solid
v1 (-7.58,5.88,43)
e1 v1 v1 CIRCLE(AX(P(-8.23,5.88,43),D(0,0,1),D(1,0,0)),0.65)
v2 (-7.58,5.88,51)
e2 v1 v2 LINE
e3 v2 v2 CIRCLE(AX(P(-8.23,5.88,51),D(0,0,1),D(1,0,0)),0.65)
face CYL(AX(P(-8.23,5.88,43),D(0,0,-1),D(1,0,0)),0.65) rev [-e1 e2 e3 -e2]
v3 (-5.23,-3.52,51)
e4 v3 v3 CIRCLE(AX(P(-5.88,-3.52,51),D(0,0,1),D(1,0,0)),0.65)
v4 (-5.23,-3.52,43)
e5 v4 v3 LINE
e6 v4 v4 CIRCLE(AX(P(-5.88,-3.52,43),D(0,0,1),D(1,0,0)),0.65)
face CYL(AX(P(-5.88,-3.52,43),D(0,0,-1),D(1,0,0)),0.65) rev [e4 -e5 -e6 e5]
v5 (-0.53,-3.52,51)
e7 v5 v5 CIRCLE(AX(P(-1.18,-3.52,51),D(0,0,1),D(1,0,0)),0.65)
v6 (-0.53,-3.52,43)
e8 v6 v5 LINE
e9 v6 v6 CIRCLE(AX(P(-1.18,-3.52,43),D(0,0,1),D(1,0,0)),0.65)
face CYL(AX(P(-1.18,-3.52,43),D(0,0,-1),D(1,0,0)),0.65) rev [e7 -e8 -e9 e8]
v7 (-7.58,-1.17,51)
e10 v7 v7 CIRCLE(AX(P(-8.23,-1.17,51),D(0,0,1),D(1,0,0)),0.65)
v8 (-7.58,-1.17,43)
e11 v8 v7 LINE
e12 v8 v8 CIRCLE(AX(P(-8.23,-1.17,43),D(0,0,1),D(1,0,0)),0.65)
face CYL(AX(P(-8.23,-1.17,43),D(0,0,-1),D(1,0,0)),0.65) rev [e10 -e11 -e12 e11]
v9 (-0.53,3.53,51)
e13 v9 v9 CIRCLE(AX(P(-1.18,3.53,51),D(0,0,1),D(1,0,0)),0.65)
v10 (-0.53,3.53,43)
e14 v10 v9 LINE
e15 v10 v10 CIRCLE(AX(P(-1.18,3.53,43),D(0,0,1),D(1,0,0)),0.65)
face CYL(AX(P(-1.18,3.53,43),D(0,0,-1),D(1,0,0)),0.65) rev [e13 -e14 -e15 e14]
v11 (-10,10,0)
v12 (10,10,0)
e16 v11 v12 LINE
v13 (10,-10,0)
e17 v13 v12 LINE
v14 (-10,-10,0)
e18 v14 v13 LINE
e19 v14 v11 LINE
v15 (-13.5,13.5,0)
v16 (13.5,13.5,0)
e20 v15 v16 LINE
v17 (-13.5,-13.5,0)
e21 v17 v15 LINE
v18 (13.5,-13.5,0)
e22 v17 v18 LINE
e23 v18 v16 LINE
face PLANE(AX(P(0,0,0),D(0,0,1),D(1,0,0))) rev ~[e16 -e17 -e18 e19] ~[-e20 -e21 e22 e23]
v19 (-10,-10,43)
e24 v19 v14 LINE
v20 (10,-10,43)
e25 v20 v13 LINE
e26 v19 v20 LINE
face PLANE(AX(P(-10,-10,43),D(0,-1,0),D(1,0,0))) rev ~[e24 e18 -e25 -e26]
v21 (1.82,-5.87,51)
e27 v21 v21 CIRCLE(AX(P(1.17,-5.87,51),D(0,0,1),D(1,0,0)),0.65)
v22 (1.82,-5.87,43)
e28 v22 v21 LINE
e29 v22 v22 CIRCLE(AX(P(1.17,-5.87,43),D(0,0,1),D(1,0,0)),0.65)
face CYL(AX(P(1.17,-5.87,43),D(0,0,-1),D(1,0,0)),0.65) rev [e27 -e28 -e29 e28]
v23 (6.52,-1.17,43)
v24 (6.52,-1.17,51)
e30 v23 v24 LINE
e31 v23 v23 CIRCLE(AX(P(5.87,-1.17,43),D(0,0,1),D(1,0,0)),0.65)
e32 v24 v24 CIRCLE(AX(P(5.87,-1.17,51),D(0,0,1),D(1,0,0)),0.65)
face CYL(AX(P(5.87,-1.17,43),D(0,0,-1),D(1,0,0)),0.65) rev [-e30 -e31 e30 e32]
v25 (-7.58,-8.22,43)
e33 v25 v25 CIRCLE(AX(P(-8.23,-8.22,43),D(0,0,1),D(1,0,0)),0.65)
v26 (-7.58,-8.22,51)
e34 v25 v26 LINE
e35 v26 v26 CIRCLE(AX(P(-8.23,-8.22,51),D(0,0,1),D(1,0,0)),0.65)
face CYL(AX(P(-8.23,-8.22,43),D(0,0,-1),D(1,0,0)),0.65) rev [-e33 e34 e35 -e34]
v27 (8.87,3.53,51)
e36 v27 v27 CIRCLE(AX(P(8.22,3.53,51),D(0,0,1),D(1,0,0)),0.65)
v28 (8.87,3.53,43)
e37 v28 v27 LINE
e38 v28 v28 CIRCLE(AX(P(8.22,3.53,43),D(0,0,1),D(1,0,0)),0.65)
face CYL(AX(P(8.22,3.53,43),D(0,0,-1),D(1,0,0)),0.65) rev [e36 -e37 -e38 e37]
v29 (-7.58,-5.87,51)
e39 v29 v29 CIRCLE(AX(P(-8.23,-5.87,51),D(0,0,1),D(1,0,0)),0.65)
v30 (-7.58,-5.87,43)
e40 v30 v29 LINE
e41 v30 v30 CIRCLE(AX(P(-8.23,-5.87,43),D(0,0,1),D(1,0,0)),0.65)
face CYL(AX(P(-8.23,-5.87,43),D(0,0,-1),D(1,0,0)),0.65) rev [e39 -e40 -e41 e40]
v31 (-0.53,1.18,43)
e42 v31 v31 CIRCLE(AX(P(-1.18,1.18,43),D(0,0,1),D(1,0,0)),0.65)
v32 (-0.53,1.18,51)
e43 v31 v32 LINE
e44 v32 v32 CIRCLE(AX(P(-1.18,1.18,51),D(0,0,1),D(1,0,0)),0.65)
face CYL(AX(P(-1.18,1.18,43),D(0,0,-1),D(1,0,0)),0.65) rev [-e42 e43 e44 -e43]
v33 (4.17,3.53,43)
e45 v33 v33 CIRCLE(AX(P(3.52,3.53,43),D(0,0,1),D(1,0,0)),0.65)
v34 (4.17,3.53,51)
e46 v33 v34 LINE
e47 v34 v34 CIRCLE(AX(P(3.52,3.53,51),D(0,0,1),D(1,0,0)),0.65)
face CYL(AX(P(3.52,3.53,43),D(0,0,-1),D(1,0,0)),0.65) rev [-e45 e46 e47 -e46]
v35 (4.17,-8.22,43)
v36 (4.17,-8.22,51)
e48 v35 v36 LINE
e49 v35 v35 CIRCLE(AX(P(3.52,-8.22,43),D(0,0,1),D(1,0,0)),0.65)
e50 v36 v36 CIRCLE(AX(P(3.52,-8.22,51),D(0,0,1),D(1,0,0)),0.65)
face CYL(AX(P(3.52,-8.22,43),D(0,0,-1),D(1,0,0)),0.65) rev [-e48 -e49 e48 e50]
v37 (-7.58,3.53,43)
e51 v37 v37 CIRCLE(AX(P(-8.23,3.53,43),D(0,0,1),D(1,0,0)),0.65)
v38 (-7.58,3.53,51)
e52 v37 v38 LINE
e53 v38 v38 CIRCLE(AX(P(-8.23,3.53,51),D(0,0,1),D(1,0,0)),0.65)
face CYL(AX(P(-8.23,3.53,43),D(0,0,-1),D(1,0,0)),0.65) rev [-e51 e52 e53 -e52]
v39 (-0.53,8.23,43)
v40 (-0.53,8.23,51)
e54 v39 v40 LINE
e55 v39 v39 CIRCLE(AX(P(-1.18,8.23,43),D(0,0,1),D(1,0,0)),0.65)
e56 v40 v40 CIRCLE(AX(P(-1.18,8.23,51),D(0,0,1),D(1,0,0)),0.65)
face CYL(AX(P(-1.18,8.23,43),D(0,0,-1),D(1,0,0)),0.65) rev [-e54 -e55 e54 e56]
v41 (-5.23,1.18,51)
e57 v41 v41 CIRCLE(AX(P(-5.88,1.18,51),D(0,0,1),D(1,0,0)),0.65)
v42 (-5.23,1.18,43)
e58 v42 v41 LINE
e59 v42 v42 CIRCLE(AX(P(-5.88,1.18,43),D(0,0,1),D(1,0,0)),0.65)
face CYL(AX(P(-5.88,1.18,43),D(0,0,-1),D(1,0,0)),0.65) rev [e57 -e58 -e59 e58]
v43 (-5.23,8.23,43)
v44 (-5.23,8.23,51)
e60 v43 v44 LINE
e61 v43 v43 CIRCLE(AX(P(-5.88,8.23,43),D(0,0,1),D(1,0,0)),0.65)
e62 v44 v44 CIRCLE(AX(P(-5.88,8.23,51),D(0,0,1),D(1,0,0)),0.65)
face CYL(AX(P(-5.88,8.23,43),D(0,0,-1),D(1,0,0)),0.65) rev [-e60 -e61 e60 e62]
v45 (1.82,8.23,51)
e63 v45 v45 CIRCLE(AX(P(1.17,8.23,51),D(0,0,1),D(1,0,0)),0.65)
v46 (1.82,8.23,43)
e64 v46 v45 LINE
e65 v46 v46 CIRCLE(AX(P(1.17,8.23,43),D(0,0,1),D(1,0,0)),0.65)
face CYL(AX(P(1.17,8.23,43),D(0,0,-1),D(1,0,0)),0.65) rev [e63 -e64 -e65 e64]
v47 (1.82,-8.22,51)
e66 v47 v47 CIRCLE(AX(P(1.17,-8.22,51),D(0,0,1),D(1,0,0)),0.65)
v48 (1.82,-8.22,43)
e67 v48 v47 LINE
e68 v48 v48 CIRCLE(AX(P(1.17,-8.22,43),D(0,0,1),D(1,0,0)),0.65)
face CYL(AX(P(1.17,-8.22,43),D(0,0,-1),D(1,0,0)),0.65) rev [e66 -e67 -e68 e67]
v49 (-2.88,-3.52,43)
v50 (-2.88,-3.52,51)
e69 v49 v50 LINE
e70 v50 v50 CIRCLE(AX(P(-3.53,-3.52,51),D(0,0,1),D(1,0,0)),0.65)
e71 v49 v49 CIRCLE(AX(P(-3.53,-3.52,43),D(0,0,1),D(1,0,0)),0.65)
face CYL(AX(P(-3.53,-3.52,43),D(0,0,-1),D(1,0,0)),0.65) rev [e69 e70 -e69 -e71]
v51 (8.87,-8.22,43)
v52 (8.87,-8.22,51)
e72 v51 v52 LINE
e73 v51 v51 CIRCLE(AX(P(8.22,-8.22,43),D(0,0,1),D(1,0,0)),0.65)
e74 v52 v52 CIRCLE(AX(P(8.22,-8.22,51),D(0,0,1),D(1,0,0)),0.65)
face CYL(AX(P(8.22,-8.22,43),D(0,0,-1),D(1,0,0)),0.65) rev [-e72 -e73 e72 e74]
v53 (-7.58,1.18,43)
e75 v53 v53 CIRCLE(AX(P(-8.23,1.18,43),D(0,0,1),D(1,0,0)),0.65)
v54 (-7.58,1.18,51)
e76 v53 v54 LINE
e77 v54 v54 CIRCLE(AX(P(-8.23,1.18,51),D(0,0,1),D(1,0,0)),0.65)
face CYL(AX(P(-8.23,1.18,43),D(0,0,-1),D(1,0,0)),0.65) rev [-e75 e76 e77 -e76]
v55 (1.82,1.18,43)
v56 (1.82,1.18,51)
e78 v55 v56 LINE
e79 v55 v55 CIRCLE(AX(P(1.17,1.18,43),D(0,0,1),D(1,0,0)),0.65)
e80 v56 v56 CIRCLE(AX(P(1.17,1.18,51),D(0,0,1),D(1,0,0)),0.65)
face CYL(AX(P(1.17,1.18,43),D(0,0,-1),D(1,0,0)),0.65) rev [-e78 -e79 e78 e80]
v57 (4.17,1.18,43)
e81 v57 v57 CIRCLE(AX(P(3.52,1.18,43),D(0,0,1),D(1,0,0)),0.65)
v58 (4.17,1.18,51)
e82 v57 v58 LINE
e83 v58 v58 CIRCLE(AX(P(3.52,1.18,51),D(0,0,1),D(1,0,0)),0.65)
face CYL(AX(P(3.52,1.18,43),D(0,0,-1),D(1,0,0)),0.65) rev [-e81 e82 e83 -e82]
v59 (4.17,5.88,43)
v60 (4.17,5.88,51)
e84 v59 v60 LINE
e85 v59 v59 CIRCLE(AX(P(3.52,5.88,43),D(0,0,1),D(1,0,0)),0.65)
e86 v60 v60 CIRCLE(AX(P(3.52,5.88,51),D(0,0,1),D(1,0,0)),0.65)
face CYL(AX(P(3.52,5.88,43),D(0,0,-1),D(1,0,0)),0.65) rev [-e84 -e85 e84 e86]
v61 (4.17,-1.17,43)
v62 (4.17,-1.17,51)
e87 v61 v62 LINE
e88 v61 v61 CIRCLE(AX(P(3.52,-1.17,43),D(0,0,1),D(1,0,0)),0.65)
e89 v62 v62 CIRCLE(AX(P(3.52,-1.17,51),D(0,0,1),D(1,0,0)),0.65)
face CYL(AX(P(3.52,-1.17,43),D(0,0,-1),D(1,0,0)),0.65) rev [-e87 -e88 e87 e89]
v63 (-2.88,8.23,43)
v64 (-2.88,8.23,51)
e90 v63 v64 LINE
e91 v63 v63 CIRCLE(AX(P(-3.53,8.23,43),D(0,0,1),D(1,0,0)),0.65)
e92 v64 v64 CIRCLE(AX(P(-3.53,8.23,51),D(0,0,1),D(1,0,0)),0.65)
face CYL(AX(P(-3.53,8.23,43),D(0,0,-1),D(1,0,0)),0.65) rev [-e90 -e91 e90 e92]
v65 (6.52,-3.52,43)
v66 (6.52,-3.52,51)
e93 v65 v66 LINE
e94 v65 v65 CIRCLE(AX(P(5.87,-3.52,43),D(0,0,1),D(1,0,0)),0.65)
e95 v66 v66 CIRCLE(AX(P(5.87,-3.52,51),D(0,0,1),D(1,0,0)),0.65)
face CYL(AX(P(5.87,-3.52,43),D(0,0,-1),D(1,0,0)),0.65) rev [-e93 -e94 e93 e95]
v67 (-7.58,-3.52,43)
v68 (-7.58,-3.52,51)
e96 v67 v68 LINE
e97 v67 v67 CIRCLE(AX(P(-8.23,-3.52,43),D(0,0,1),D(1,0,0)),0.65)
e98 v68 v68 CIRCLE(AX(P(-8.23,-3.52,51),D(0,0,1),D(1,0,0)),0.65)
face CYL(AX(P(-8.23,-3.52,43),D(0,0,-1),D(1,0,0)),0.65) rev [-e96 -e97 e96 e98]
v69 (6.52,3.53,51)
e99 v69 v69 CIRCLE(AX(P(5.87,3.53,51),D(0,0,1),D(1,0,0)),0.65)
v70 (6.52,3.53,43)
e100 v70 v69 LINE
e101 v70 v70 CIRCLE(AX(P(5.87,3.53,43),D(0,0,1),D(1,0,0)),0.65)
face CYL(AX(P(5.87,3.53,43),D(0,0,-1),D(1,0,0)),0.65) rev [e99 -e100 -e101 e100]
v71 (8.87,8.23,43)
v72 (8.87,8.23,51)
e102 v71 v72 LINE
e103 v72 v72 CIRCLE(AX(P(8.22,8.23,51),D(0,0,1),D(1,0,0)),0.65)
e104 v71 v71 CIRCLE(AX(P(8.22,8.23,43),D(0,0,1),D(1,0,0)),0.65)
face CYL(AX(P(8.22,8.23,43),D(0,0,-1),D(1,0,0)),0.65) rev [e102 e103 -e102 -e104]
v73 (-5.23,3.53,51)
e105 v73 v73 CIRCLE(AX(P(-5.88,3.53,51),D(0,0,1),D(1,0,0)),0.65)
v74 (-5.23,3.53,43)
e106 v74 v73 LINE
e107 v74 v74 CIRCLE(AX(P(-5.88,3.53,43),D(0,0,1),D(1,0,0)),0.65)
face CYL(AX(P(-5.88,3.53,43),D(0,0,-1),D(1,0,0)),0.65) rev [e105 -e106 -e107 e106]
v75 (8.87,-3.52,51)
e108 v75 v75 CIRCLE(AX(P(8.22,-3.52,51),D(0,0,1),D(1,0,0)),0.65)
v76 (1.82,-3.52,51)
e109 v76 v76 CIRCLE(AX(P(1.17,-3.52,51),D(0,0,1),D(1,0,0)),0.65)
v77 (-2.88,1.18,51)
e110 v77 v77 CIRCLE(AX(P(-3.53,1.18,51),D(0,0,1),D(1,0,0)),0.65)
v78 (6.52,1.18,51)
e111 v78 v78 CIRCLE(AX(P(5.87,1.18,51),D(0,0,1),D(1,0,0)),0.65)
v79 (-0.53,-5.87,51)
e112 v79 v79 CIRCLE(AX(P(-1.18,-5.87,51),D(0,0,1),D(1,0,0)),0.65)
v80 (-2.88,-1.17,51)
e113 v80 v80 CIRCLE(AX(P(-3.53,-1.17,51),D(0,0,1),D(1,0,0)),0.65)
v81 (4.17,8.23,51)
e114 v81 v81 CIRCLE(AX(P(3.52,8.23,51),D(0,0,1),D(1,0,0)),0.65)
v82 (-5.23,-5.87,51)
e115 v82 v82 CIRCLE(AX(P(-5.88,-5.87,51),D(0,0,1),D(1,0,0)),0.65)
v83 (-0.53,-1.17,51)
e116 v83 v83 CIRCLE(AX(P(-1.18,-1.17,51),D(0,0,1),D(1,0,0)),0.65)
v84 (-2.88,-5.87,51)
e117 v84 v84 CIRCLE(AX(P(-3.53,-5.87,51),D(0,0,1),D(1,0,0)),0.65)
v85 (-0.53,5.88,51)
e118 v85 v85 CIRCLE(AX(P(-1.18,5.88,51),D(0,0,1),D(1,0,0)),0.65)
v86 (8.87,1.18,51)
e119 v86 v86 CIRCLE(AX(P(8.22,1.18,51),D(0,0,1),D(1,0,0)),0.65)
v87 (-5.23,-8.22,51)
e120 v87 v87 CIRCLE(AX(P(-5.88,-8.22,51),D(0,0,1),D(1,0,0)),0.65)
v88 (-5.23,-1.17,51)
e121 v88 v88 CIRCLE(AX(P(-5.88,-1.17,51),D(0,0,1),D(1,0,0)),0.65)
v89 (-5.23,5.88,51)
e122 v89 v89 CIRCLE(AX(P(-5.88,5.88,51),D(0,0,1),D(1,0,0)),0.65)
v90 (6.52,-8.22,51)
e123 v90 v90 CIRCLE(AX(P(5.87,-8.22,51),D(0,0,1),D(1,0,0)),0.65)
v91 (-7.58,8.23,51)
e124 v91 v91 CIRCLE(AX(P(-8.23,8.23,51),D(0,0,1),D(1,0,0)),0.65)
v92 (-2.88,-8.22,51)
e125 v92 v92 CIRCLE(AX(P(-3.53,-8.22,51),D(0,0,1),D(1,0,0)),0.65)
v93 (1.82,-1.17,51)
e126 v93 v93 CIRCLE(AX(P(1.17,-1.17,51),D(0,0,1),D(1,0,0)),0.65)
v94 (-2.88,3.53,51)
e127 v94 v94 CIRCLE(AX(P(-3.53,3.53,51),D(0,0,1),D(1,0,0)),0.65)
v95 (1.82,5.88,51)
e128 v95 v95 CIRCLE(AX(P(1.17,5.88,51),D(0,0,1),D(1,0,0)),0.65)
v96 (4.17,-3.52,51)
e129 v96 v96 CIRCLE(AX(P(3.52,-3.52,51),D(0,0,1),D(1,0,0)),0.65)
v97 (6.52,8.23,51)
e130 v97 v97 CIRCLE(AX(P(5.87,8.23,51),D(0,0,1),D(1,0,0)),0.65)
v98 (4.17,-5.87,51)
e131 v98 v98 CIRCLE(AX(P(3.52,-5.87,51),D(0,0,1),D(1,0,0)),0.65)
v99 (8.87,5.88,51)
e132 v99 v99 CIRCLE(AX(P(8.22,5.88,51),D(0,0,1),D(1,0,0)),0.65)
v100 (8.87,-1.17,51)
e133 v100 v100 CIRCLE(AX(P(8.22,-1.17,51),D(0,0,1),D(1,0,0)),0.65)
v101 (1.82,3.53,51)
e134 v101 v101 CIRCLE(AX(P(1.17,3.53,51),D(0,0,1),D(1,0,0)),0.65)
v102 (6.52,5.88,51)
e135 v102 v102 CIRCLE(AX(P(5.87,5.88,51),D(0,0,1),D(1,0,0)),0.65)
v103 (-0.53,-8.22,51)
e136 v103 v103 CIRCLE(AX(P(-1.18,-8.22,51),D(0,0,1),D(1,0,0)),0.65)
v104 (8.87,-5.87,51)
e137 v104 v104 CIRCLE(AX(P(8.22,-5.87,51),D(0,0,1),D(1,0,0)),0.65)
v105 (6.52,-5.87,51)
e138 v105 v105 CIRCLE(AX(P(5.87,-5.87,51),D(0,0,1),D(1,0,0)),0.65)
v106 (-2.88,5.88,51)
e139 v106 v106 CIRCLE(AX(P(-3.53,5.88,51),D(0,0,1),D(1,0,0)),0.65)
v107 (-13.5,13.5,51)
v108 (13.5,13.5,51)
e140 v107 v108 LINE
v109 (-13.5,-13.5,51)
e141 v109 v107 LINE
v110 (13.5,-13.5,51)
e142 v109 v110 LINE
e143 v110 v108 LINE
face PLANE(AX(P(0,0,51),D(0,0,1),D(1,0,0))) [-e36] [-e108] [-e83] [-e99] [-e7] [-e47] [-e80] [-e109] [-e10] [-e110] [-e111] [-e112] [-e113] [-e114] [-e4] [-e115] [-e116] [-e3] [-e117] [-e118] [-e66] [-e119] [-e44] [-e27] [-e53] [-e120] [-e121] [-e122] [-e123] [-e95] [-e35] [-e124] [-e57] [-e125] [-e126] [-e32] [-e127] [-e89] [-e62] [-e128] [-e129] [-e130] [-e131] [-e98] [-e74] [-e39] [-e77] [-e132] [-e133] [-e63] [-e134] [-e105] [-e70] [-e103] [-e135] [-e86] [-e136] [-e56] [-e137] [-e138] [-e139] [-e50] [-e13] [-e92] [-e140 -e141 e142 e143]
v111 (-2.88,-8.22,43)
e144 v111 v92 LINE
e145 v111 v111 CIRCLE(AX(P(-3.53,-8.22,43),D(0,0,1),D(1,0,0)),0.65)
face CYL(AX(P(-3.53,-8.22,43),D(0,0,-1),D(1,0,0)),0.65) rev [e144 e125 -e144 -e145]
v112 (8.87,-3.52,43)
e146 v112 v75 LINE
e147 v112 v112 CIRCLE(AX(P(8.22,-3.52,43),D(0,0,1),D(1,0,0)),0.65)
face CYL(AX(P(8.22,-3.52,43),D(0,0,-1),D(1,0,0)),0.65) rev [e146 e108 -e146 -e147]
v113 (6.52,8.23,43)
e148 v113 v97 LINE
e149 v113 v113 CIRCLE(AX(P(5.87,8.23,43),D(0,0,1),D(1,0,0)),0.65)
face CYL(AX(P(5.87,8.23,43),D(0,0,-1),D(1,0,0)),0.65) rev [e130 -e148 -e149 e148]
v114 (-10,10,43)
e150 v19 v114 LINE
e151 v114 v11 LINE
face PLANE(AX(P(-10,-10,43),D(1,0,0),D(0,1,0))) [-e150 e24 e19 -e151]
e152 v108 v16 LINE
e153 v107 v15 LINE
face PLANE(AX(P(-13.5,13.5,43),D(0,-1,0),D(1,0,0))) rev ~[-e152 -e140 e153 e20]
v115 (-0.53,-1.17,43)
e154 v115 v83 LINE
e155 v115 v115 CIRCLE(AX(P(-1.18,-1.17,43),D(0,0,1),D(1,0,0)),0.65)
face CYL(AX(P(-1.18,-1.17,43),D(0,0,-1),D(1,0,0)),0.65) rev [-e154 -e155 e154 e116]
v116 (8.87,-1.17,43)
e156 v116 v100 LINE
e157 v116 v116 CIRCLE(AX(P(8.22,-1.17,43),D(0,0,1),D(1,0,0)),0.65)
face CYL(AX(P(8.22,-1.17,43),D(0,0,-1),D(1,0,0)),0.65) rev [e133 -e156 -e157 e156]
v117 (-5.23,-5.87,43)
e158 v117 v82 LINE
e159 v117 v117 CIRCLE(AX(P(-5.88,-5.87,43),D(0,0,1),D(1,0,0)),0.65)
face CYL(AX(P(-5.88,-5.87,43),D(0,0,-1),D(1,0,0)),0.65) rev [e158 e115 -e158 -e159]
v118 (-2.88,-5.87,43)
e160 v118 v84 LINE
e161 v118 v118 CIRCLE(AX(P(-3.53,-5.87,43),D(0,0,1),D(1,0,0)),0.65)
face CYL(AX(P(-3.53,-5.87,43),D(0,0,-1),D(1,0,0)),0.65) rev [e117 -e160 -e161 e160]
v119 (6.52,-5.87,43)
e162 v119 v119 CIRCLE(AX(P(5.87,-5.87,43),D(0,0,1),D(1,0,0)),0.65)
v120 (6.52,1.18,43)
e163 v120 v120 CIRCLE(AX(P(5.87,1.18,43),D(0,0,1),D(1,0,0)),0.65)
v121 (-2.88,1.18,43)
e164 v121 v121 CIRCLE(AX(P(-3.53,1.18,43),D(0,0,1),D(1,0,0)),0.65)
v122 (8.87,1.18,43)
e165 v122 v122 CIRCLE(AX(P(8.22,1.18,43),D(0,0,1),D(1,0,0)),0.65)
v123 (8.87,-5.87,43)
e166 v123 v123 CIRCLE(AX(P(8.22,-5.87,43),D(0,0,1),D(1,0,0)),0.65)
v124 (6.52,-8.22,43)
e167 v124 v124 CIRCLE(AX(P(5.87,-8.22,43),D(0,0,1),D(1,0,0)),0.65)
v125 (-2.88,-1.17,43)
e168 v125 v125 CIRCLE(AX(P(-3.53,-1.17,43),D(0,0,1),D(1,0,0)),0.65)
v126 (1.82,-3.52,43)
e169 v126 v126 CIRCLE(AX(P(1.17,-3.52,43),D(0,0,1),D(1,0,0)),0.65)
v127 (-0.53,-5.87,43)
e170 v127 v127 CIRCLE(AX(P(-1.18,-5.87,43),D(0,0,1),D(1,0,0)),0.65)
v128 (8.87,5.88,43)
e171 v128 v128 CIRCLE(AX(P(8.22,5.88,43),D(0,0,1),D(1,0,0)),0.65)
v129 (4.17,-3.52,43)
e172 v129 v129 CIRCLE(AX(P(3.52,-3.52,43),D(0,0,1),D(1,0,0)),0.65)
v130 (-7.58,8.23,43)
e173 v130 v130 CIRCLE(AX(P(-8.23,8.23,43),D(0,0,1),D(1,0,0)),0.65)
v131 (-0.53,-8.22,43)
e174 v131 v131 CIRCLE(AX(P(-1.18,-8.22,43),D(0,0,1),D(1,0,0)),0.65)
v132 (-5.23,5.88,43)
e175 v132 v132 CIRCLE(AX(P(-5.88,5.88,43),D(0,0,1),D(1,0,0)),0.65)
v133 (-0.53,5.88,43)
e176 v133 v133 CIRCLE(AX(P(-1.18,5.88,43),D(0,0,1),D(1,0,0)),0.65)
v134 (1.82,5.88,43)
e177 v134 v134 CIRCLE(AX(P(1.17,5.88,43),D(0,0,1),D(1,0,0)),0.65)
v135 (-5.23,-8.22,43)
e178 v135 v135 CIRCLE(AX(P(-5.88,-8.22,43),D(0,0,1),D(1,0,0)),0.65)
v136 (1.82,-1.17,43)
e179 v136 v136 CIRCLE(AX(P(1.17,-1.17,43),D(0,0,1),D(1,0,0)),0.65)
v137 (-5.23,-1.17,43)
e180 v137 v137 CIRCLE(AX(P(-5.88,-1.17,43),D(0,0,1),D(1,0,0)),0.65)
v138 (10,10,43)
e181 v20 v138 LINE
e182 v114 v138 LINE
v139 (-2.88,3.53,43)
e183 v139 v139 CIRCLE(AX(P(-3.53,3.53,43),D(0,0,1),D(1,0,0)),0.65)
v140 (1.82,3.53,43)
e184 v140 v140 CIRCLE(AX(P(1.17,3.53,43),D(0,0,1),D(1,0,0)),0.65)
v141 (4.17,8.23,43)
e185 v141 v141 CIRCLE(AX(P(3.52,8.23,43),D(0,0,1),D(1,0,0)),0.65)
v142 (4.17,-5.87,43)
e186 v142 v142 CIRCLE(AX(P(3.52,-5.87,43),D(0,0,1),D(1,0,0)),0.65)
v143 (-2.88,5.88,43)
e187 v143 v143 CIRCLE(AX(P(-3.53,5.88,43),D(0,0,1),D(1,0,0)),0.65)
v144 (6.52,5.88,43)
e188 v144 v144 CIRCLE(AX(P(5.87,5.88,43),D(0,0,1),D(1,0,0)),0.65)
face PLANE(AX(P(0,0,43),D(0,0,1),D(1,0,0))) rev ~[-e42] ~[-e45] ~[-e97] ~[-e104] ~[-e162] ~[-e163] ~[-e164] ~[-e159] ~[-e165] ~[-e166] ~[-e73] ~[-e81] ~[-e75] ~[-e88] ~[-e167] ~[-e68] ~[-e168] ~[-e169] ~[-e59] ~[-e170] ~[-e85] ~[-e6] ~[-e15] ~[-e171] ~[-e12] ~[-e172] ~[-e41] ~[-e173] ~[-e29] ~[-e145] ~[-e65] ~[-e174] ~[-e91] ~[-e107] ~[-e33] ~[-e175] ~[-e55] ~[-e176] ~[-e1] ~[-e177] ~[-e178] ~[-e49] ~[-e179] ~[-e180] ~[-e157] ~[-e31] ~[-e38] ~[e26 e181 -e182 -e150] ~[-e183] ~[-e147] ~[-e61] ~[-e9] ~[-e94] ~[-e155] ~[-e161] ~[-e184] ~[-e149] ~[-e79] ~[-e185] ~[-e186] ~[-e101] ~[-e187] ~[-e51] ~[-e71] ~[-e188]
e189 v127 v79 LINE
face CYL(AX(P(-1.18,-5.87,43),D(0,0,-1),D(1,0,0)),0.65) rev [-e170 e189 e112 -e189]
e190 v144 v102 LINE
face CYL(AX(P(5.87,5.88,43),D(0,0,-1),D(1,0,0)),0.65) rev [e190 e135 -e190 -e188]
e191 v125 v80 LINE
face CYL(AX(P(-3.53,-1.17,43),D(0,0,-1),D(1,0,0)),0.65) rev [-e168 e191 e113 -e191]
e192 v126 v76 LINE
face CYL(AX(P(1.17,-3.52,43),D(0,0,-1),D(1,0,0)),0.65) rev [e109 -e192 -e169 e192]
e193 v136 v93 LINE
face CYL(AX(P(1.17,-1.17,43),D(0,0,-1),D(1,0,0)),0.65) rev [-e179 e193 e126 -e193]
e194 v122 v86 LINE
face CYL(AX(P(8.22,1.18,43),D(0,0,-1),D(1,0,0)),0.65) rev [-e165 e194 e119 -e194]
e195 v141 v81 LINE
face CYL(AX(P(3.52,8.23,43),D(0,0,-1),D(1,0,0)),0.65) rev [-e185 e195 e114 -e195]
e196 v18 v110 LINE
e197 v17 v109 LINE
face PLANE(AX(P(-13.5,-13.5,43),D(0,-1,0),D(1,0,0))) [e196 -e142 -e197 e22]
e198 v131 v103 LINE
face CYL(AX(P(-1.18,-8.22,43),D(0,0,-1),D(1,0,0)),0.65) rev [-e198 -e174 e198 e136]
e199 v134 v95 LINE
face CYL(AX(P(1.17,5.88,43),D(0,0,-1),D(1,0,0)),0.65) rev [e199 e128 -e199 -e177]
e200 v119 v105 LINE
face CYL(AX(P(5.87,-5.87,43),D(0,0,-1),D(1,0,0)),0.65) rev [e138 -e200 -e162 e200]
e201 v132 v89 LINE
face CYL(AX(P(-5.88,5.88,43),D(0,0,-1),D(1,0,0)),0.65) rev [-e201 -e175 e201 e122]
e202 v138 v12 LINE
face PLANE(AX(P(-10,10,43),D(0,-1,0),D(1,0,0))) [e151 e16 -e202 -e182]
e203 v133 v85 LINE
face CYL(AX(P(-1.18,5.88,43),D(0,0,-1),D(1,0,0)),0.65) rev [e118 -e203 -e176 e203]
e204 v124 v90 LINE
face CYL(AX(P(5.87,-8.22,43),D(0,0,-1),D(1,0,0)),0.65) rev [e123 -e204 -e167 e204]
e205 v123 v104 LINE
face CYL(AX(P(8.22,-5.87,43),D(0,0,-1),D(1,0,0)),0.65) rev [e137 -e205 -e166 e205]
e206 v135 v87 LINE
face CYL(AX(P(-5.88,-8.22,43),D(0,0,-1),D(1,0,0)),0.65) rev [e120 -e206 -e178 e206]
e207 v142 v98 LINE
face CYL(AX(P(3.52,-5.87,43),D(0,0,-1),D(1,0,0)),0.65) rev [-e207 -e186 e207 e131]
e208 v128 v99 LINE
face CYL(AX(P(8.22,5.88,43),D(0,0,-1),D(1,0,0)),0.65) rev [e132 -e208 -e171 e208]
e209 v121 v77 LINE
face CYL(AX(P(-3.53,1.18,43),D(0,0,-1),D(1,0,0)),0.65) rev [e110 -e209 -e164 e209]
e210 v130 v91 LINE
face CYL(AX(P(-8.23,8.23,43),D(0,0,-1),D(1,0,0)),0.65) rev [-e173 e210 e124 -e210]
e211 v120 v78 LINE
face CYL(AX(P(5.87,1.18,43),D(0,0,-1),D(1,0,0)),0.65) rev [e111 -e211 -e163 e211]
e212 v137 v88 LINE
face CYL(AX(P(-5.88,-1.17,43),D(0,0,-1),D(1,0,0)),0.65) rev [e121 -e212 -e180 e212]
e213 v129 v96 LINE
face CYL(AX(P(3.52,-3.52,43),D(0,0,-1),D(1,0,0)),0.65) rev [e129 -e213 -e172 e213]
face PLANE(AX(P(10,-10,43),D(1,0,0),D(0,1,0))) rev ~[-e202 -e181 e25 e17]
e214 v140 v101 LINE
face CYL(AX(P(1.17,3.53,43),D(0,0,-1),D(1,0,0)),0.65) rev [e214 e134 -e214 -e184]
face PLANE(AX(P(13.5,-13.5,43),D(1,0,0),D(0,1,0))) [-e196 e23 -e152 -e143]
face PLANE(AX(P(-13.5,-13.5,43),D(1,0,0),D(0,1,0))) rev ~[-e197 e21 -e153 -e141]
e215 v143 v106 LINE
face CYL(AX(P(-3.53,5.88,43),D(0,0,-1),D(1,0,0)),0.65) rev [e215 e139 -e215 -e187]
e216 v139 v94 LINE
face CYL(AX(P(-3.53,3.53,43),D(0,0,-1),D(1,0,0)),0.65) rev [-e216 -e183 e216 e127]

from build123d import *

# Parameters (mm, degrees)
SKETCH2_W           = 27
SKETCH2_H           = 27
BOSS_EXTRUDE1_DEPTH = 8
SKETCH5_R           = 0.65
CUT_EXTRUDE2_DEPTH  = 8
SKETCH2_6_W         = 27
SKETCH2_6_H         = 27
SKETCH2_6_W_2       = 20
SKETCH2_6_H_2       = 20
BOSS_EXTRUDE2_DEPTH = 43


with BuildPart() as part:
    # Sketch2 → Boss-Extrude1 (new body)
    with BuildSketch(Plane.XY.offset(43)):
        Rectangle(SKETCH2_W, SKETCH2_H)
    extrude(amount=BOSS_EXTRUDE1_DEPTH)

    # Sketch5 → Cut-Extrude2 (cut)
    with BuildSketch(Plane.XY.offset(43)):
        with Locations((-8.23, 8.23)):
            Circle(SKETCH5_R)
        with Locations((-5.88, 8.23)):
            Circle(SKETCH5_R)
        with Locations((-3.53, 8.23)):
            Circle(SKETCH5_R)
        with Locations((-1.18, 8.23)):
            Circle(SKETCH5_R)
        with Locations((1.17, 8.23)):
            Circle(SKETCH5_R)
        with Locations((3.52, 8.23)):
            Circle(SKETCH5_R)
        with Locations((5.87, 8.23)):
            Circle(SKETCH5_R)
        with Locations((8.22, 8.23)):
            Circle(SKETCH5_R)
        with Locations((-5.88, 5.88)):
            Circle(SKETCH5_R)
        with Locations((-3.53, 5.88)):
            Circle(SKETCH5_R)
        with Locations((-1.18, 5.88)):
            Circle(SKETCH5_R)
        with Locations((1.17, 5.88)):
            Circle(SKETCH5_R)
        with Locations((3.52, 5.88)):
            Circle(SKETCH5_R)
        with Locations((5.87, 5.88)):
            Circle(SKETCH5_R)
        with Locations((8.22, 5.88)):
            Circle(SKETCH5_R)
        with Locations((-5.88, 3.53)):
            Circle(SKETCH5_R)
        with Locations((-3.53, 3.53)):
            Circle(SKETCH5_R)
        with Locations((-1.18, 3.53)):
            Circle(SKETCH5_R)
        with Locations((1.17, 3.53)):
            Circle(SKETCH5_R)
        with Locations((3.52, 3.53)):
            Circle(SKETCH5_R)
        with Locations((5.87, 3.53)):
            Circle(SKETCH5_R)
        with Locations((8.22, 3.53)):
            Circle(SKETCH5_R)
        with Locations((-5.88, 1.18)):
            Circle(SKETCH5_R)
        with Locations((-3.53, 1.18)):
            Circle(SKETCH5_R)
        with Locations((-1.18, 1.18)):
            Circle(SKETCH5_R)
        with Locations((1.17, 1.18)):
            Circle(SKETCH5_R)
        with Locations((3.52, 1.18)):
            Circle(SKETCH5_R)
        with Locations((5.87, 1.18)):
            Circle(SKETCH5_R)
        with Locations((8.22, 1.18)):
            Circle(SKETCH5_R)
        with Locations((-5.88, -1.17)):
            Circle(SKETCH5_R)
        with Locations((-3.53, -1.17)):
            Circle(SKETCH5_R)
        with Locations((-1.18, -1.17)):
            Circle(SKETCH5_R)
        with Locations((1.17, -1.17)):
            Circle(SKETCH5_R)
        with Locations((3.52, -1.17)):
            Circle(SKETCH5_R)
        with Locations((5.87, -1.17)):
            Circle(SKETCH5_R)
        with Locations((8.22, -1.17)):
            Circle(SKETCH5_R)
        with Locations((-5.88, -3.52)):
            Circle(SKETCH5_R)
        with Locations((-3.53, -3.52)):
            Circle(SKETCH5_R)
        with Locations((-1.18, -3.52)):
            Circle(SKETCH5_R)
        with Locations((1.17, -3.52)):
            Circle(SKETCH5_R)
        with Locations((3.52, -3.52)):
            Circle(SKETCH5_R)
        with Locations((5.87, -3.52)):
            Circle(SKETCH5_R)
        with Locations((8.22, -3.52)):
            Circle(SKETCH5_R)
        with Locations((-5.88, -5.87)):
            Circle(SKETCH5_R)
        with Locations((-3.53, -5.87)):
            Circle(SKETCH5_R)
        with Locations((-1.18, -5.87)):
            Circle(SKETCH5_R)
        with Locations((1.17, -5.87)):
            Circle(SKETCH5_R)
        with Locations((3.52, -5.87)):
            Circle(SKETCH5_R)
        with Locations((5.87, -5.87)):
            Circle(SKETCH5_R)
        with Locations((8.22, -5.87)):
            Circle(SKETCH5_R)
        with Locations((-5.88, -8.22)):
            Circle(SKETCH5_R)
        with Locations((-3.53, -8.22)):
            Circle(SKETCH5_R)
        with Locations((-1.18, -8.22)):
            Circle(SKETCH5_R)
        with Locations((1.17, -8.22)):
            Circle(SKETCH5_R)
        with Locations((3.52, -8.22)):
            Circle(SKETCH5_R)
        with Locations((5.87, -8.22)):
            Circle(SKETCH5_R)
        with Locations((8.22, -8.22)):
            Circle(SKETCH5_R)
        with Locations((-8.23, 5.88)):
            Circle(SKETCH5_R)
        with Locations((-8.23, 3.53)):
            Circle(SKETCH5_R)
        with Locations((-8.23, 1.18)):
            Circle(SKETCH5_R)
        with Locations((-8.23, -1.17)):
            Circle(SKETCH5_R)
        with Locations((-8.23, -3.52)):
            Circle(SKETCH5_R)
        with Locations((-8.23, -5.87)):
            Circle(SKETCH5_R)
        with Locations((-8.23, -8.22)):
            Circle(SKETCH5_R)
    extrude(amount=CUT_EXTRUDE2_DEPTH, mode=Mode.SUBTRACT)

    # Sketch2<6> → Boss-Extrude2 (add)
    with BuildSketch(Plane.XY.offset(43)):
        Rectangle(SKETCH2_6_W, SKETCH2_6_H)
        Rectangle(SKETCH2_6_W_2, SKETCH2_6_H_2, mode=Mode.SUBTRACT)
    extrude(amount=-BOSS_EXTRUDE2_DEPTH)


solid = part.part
